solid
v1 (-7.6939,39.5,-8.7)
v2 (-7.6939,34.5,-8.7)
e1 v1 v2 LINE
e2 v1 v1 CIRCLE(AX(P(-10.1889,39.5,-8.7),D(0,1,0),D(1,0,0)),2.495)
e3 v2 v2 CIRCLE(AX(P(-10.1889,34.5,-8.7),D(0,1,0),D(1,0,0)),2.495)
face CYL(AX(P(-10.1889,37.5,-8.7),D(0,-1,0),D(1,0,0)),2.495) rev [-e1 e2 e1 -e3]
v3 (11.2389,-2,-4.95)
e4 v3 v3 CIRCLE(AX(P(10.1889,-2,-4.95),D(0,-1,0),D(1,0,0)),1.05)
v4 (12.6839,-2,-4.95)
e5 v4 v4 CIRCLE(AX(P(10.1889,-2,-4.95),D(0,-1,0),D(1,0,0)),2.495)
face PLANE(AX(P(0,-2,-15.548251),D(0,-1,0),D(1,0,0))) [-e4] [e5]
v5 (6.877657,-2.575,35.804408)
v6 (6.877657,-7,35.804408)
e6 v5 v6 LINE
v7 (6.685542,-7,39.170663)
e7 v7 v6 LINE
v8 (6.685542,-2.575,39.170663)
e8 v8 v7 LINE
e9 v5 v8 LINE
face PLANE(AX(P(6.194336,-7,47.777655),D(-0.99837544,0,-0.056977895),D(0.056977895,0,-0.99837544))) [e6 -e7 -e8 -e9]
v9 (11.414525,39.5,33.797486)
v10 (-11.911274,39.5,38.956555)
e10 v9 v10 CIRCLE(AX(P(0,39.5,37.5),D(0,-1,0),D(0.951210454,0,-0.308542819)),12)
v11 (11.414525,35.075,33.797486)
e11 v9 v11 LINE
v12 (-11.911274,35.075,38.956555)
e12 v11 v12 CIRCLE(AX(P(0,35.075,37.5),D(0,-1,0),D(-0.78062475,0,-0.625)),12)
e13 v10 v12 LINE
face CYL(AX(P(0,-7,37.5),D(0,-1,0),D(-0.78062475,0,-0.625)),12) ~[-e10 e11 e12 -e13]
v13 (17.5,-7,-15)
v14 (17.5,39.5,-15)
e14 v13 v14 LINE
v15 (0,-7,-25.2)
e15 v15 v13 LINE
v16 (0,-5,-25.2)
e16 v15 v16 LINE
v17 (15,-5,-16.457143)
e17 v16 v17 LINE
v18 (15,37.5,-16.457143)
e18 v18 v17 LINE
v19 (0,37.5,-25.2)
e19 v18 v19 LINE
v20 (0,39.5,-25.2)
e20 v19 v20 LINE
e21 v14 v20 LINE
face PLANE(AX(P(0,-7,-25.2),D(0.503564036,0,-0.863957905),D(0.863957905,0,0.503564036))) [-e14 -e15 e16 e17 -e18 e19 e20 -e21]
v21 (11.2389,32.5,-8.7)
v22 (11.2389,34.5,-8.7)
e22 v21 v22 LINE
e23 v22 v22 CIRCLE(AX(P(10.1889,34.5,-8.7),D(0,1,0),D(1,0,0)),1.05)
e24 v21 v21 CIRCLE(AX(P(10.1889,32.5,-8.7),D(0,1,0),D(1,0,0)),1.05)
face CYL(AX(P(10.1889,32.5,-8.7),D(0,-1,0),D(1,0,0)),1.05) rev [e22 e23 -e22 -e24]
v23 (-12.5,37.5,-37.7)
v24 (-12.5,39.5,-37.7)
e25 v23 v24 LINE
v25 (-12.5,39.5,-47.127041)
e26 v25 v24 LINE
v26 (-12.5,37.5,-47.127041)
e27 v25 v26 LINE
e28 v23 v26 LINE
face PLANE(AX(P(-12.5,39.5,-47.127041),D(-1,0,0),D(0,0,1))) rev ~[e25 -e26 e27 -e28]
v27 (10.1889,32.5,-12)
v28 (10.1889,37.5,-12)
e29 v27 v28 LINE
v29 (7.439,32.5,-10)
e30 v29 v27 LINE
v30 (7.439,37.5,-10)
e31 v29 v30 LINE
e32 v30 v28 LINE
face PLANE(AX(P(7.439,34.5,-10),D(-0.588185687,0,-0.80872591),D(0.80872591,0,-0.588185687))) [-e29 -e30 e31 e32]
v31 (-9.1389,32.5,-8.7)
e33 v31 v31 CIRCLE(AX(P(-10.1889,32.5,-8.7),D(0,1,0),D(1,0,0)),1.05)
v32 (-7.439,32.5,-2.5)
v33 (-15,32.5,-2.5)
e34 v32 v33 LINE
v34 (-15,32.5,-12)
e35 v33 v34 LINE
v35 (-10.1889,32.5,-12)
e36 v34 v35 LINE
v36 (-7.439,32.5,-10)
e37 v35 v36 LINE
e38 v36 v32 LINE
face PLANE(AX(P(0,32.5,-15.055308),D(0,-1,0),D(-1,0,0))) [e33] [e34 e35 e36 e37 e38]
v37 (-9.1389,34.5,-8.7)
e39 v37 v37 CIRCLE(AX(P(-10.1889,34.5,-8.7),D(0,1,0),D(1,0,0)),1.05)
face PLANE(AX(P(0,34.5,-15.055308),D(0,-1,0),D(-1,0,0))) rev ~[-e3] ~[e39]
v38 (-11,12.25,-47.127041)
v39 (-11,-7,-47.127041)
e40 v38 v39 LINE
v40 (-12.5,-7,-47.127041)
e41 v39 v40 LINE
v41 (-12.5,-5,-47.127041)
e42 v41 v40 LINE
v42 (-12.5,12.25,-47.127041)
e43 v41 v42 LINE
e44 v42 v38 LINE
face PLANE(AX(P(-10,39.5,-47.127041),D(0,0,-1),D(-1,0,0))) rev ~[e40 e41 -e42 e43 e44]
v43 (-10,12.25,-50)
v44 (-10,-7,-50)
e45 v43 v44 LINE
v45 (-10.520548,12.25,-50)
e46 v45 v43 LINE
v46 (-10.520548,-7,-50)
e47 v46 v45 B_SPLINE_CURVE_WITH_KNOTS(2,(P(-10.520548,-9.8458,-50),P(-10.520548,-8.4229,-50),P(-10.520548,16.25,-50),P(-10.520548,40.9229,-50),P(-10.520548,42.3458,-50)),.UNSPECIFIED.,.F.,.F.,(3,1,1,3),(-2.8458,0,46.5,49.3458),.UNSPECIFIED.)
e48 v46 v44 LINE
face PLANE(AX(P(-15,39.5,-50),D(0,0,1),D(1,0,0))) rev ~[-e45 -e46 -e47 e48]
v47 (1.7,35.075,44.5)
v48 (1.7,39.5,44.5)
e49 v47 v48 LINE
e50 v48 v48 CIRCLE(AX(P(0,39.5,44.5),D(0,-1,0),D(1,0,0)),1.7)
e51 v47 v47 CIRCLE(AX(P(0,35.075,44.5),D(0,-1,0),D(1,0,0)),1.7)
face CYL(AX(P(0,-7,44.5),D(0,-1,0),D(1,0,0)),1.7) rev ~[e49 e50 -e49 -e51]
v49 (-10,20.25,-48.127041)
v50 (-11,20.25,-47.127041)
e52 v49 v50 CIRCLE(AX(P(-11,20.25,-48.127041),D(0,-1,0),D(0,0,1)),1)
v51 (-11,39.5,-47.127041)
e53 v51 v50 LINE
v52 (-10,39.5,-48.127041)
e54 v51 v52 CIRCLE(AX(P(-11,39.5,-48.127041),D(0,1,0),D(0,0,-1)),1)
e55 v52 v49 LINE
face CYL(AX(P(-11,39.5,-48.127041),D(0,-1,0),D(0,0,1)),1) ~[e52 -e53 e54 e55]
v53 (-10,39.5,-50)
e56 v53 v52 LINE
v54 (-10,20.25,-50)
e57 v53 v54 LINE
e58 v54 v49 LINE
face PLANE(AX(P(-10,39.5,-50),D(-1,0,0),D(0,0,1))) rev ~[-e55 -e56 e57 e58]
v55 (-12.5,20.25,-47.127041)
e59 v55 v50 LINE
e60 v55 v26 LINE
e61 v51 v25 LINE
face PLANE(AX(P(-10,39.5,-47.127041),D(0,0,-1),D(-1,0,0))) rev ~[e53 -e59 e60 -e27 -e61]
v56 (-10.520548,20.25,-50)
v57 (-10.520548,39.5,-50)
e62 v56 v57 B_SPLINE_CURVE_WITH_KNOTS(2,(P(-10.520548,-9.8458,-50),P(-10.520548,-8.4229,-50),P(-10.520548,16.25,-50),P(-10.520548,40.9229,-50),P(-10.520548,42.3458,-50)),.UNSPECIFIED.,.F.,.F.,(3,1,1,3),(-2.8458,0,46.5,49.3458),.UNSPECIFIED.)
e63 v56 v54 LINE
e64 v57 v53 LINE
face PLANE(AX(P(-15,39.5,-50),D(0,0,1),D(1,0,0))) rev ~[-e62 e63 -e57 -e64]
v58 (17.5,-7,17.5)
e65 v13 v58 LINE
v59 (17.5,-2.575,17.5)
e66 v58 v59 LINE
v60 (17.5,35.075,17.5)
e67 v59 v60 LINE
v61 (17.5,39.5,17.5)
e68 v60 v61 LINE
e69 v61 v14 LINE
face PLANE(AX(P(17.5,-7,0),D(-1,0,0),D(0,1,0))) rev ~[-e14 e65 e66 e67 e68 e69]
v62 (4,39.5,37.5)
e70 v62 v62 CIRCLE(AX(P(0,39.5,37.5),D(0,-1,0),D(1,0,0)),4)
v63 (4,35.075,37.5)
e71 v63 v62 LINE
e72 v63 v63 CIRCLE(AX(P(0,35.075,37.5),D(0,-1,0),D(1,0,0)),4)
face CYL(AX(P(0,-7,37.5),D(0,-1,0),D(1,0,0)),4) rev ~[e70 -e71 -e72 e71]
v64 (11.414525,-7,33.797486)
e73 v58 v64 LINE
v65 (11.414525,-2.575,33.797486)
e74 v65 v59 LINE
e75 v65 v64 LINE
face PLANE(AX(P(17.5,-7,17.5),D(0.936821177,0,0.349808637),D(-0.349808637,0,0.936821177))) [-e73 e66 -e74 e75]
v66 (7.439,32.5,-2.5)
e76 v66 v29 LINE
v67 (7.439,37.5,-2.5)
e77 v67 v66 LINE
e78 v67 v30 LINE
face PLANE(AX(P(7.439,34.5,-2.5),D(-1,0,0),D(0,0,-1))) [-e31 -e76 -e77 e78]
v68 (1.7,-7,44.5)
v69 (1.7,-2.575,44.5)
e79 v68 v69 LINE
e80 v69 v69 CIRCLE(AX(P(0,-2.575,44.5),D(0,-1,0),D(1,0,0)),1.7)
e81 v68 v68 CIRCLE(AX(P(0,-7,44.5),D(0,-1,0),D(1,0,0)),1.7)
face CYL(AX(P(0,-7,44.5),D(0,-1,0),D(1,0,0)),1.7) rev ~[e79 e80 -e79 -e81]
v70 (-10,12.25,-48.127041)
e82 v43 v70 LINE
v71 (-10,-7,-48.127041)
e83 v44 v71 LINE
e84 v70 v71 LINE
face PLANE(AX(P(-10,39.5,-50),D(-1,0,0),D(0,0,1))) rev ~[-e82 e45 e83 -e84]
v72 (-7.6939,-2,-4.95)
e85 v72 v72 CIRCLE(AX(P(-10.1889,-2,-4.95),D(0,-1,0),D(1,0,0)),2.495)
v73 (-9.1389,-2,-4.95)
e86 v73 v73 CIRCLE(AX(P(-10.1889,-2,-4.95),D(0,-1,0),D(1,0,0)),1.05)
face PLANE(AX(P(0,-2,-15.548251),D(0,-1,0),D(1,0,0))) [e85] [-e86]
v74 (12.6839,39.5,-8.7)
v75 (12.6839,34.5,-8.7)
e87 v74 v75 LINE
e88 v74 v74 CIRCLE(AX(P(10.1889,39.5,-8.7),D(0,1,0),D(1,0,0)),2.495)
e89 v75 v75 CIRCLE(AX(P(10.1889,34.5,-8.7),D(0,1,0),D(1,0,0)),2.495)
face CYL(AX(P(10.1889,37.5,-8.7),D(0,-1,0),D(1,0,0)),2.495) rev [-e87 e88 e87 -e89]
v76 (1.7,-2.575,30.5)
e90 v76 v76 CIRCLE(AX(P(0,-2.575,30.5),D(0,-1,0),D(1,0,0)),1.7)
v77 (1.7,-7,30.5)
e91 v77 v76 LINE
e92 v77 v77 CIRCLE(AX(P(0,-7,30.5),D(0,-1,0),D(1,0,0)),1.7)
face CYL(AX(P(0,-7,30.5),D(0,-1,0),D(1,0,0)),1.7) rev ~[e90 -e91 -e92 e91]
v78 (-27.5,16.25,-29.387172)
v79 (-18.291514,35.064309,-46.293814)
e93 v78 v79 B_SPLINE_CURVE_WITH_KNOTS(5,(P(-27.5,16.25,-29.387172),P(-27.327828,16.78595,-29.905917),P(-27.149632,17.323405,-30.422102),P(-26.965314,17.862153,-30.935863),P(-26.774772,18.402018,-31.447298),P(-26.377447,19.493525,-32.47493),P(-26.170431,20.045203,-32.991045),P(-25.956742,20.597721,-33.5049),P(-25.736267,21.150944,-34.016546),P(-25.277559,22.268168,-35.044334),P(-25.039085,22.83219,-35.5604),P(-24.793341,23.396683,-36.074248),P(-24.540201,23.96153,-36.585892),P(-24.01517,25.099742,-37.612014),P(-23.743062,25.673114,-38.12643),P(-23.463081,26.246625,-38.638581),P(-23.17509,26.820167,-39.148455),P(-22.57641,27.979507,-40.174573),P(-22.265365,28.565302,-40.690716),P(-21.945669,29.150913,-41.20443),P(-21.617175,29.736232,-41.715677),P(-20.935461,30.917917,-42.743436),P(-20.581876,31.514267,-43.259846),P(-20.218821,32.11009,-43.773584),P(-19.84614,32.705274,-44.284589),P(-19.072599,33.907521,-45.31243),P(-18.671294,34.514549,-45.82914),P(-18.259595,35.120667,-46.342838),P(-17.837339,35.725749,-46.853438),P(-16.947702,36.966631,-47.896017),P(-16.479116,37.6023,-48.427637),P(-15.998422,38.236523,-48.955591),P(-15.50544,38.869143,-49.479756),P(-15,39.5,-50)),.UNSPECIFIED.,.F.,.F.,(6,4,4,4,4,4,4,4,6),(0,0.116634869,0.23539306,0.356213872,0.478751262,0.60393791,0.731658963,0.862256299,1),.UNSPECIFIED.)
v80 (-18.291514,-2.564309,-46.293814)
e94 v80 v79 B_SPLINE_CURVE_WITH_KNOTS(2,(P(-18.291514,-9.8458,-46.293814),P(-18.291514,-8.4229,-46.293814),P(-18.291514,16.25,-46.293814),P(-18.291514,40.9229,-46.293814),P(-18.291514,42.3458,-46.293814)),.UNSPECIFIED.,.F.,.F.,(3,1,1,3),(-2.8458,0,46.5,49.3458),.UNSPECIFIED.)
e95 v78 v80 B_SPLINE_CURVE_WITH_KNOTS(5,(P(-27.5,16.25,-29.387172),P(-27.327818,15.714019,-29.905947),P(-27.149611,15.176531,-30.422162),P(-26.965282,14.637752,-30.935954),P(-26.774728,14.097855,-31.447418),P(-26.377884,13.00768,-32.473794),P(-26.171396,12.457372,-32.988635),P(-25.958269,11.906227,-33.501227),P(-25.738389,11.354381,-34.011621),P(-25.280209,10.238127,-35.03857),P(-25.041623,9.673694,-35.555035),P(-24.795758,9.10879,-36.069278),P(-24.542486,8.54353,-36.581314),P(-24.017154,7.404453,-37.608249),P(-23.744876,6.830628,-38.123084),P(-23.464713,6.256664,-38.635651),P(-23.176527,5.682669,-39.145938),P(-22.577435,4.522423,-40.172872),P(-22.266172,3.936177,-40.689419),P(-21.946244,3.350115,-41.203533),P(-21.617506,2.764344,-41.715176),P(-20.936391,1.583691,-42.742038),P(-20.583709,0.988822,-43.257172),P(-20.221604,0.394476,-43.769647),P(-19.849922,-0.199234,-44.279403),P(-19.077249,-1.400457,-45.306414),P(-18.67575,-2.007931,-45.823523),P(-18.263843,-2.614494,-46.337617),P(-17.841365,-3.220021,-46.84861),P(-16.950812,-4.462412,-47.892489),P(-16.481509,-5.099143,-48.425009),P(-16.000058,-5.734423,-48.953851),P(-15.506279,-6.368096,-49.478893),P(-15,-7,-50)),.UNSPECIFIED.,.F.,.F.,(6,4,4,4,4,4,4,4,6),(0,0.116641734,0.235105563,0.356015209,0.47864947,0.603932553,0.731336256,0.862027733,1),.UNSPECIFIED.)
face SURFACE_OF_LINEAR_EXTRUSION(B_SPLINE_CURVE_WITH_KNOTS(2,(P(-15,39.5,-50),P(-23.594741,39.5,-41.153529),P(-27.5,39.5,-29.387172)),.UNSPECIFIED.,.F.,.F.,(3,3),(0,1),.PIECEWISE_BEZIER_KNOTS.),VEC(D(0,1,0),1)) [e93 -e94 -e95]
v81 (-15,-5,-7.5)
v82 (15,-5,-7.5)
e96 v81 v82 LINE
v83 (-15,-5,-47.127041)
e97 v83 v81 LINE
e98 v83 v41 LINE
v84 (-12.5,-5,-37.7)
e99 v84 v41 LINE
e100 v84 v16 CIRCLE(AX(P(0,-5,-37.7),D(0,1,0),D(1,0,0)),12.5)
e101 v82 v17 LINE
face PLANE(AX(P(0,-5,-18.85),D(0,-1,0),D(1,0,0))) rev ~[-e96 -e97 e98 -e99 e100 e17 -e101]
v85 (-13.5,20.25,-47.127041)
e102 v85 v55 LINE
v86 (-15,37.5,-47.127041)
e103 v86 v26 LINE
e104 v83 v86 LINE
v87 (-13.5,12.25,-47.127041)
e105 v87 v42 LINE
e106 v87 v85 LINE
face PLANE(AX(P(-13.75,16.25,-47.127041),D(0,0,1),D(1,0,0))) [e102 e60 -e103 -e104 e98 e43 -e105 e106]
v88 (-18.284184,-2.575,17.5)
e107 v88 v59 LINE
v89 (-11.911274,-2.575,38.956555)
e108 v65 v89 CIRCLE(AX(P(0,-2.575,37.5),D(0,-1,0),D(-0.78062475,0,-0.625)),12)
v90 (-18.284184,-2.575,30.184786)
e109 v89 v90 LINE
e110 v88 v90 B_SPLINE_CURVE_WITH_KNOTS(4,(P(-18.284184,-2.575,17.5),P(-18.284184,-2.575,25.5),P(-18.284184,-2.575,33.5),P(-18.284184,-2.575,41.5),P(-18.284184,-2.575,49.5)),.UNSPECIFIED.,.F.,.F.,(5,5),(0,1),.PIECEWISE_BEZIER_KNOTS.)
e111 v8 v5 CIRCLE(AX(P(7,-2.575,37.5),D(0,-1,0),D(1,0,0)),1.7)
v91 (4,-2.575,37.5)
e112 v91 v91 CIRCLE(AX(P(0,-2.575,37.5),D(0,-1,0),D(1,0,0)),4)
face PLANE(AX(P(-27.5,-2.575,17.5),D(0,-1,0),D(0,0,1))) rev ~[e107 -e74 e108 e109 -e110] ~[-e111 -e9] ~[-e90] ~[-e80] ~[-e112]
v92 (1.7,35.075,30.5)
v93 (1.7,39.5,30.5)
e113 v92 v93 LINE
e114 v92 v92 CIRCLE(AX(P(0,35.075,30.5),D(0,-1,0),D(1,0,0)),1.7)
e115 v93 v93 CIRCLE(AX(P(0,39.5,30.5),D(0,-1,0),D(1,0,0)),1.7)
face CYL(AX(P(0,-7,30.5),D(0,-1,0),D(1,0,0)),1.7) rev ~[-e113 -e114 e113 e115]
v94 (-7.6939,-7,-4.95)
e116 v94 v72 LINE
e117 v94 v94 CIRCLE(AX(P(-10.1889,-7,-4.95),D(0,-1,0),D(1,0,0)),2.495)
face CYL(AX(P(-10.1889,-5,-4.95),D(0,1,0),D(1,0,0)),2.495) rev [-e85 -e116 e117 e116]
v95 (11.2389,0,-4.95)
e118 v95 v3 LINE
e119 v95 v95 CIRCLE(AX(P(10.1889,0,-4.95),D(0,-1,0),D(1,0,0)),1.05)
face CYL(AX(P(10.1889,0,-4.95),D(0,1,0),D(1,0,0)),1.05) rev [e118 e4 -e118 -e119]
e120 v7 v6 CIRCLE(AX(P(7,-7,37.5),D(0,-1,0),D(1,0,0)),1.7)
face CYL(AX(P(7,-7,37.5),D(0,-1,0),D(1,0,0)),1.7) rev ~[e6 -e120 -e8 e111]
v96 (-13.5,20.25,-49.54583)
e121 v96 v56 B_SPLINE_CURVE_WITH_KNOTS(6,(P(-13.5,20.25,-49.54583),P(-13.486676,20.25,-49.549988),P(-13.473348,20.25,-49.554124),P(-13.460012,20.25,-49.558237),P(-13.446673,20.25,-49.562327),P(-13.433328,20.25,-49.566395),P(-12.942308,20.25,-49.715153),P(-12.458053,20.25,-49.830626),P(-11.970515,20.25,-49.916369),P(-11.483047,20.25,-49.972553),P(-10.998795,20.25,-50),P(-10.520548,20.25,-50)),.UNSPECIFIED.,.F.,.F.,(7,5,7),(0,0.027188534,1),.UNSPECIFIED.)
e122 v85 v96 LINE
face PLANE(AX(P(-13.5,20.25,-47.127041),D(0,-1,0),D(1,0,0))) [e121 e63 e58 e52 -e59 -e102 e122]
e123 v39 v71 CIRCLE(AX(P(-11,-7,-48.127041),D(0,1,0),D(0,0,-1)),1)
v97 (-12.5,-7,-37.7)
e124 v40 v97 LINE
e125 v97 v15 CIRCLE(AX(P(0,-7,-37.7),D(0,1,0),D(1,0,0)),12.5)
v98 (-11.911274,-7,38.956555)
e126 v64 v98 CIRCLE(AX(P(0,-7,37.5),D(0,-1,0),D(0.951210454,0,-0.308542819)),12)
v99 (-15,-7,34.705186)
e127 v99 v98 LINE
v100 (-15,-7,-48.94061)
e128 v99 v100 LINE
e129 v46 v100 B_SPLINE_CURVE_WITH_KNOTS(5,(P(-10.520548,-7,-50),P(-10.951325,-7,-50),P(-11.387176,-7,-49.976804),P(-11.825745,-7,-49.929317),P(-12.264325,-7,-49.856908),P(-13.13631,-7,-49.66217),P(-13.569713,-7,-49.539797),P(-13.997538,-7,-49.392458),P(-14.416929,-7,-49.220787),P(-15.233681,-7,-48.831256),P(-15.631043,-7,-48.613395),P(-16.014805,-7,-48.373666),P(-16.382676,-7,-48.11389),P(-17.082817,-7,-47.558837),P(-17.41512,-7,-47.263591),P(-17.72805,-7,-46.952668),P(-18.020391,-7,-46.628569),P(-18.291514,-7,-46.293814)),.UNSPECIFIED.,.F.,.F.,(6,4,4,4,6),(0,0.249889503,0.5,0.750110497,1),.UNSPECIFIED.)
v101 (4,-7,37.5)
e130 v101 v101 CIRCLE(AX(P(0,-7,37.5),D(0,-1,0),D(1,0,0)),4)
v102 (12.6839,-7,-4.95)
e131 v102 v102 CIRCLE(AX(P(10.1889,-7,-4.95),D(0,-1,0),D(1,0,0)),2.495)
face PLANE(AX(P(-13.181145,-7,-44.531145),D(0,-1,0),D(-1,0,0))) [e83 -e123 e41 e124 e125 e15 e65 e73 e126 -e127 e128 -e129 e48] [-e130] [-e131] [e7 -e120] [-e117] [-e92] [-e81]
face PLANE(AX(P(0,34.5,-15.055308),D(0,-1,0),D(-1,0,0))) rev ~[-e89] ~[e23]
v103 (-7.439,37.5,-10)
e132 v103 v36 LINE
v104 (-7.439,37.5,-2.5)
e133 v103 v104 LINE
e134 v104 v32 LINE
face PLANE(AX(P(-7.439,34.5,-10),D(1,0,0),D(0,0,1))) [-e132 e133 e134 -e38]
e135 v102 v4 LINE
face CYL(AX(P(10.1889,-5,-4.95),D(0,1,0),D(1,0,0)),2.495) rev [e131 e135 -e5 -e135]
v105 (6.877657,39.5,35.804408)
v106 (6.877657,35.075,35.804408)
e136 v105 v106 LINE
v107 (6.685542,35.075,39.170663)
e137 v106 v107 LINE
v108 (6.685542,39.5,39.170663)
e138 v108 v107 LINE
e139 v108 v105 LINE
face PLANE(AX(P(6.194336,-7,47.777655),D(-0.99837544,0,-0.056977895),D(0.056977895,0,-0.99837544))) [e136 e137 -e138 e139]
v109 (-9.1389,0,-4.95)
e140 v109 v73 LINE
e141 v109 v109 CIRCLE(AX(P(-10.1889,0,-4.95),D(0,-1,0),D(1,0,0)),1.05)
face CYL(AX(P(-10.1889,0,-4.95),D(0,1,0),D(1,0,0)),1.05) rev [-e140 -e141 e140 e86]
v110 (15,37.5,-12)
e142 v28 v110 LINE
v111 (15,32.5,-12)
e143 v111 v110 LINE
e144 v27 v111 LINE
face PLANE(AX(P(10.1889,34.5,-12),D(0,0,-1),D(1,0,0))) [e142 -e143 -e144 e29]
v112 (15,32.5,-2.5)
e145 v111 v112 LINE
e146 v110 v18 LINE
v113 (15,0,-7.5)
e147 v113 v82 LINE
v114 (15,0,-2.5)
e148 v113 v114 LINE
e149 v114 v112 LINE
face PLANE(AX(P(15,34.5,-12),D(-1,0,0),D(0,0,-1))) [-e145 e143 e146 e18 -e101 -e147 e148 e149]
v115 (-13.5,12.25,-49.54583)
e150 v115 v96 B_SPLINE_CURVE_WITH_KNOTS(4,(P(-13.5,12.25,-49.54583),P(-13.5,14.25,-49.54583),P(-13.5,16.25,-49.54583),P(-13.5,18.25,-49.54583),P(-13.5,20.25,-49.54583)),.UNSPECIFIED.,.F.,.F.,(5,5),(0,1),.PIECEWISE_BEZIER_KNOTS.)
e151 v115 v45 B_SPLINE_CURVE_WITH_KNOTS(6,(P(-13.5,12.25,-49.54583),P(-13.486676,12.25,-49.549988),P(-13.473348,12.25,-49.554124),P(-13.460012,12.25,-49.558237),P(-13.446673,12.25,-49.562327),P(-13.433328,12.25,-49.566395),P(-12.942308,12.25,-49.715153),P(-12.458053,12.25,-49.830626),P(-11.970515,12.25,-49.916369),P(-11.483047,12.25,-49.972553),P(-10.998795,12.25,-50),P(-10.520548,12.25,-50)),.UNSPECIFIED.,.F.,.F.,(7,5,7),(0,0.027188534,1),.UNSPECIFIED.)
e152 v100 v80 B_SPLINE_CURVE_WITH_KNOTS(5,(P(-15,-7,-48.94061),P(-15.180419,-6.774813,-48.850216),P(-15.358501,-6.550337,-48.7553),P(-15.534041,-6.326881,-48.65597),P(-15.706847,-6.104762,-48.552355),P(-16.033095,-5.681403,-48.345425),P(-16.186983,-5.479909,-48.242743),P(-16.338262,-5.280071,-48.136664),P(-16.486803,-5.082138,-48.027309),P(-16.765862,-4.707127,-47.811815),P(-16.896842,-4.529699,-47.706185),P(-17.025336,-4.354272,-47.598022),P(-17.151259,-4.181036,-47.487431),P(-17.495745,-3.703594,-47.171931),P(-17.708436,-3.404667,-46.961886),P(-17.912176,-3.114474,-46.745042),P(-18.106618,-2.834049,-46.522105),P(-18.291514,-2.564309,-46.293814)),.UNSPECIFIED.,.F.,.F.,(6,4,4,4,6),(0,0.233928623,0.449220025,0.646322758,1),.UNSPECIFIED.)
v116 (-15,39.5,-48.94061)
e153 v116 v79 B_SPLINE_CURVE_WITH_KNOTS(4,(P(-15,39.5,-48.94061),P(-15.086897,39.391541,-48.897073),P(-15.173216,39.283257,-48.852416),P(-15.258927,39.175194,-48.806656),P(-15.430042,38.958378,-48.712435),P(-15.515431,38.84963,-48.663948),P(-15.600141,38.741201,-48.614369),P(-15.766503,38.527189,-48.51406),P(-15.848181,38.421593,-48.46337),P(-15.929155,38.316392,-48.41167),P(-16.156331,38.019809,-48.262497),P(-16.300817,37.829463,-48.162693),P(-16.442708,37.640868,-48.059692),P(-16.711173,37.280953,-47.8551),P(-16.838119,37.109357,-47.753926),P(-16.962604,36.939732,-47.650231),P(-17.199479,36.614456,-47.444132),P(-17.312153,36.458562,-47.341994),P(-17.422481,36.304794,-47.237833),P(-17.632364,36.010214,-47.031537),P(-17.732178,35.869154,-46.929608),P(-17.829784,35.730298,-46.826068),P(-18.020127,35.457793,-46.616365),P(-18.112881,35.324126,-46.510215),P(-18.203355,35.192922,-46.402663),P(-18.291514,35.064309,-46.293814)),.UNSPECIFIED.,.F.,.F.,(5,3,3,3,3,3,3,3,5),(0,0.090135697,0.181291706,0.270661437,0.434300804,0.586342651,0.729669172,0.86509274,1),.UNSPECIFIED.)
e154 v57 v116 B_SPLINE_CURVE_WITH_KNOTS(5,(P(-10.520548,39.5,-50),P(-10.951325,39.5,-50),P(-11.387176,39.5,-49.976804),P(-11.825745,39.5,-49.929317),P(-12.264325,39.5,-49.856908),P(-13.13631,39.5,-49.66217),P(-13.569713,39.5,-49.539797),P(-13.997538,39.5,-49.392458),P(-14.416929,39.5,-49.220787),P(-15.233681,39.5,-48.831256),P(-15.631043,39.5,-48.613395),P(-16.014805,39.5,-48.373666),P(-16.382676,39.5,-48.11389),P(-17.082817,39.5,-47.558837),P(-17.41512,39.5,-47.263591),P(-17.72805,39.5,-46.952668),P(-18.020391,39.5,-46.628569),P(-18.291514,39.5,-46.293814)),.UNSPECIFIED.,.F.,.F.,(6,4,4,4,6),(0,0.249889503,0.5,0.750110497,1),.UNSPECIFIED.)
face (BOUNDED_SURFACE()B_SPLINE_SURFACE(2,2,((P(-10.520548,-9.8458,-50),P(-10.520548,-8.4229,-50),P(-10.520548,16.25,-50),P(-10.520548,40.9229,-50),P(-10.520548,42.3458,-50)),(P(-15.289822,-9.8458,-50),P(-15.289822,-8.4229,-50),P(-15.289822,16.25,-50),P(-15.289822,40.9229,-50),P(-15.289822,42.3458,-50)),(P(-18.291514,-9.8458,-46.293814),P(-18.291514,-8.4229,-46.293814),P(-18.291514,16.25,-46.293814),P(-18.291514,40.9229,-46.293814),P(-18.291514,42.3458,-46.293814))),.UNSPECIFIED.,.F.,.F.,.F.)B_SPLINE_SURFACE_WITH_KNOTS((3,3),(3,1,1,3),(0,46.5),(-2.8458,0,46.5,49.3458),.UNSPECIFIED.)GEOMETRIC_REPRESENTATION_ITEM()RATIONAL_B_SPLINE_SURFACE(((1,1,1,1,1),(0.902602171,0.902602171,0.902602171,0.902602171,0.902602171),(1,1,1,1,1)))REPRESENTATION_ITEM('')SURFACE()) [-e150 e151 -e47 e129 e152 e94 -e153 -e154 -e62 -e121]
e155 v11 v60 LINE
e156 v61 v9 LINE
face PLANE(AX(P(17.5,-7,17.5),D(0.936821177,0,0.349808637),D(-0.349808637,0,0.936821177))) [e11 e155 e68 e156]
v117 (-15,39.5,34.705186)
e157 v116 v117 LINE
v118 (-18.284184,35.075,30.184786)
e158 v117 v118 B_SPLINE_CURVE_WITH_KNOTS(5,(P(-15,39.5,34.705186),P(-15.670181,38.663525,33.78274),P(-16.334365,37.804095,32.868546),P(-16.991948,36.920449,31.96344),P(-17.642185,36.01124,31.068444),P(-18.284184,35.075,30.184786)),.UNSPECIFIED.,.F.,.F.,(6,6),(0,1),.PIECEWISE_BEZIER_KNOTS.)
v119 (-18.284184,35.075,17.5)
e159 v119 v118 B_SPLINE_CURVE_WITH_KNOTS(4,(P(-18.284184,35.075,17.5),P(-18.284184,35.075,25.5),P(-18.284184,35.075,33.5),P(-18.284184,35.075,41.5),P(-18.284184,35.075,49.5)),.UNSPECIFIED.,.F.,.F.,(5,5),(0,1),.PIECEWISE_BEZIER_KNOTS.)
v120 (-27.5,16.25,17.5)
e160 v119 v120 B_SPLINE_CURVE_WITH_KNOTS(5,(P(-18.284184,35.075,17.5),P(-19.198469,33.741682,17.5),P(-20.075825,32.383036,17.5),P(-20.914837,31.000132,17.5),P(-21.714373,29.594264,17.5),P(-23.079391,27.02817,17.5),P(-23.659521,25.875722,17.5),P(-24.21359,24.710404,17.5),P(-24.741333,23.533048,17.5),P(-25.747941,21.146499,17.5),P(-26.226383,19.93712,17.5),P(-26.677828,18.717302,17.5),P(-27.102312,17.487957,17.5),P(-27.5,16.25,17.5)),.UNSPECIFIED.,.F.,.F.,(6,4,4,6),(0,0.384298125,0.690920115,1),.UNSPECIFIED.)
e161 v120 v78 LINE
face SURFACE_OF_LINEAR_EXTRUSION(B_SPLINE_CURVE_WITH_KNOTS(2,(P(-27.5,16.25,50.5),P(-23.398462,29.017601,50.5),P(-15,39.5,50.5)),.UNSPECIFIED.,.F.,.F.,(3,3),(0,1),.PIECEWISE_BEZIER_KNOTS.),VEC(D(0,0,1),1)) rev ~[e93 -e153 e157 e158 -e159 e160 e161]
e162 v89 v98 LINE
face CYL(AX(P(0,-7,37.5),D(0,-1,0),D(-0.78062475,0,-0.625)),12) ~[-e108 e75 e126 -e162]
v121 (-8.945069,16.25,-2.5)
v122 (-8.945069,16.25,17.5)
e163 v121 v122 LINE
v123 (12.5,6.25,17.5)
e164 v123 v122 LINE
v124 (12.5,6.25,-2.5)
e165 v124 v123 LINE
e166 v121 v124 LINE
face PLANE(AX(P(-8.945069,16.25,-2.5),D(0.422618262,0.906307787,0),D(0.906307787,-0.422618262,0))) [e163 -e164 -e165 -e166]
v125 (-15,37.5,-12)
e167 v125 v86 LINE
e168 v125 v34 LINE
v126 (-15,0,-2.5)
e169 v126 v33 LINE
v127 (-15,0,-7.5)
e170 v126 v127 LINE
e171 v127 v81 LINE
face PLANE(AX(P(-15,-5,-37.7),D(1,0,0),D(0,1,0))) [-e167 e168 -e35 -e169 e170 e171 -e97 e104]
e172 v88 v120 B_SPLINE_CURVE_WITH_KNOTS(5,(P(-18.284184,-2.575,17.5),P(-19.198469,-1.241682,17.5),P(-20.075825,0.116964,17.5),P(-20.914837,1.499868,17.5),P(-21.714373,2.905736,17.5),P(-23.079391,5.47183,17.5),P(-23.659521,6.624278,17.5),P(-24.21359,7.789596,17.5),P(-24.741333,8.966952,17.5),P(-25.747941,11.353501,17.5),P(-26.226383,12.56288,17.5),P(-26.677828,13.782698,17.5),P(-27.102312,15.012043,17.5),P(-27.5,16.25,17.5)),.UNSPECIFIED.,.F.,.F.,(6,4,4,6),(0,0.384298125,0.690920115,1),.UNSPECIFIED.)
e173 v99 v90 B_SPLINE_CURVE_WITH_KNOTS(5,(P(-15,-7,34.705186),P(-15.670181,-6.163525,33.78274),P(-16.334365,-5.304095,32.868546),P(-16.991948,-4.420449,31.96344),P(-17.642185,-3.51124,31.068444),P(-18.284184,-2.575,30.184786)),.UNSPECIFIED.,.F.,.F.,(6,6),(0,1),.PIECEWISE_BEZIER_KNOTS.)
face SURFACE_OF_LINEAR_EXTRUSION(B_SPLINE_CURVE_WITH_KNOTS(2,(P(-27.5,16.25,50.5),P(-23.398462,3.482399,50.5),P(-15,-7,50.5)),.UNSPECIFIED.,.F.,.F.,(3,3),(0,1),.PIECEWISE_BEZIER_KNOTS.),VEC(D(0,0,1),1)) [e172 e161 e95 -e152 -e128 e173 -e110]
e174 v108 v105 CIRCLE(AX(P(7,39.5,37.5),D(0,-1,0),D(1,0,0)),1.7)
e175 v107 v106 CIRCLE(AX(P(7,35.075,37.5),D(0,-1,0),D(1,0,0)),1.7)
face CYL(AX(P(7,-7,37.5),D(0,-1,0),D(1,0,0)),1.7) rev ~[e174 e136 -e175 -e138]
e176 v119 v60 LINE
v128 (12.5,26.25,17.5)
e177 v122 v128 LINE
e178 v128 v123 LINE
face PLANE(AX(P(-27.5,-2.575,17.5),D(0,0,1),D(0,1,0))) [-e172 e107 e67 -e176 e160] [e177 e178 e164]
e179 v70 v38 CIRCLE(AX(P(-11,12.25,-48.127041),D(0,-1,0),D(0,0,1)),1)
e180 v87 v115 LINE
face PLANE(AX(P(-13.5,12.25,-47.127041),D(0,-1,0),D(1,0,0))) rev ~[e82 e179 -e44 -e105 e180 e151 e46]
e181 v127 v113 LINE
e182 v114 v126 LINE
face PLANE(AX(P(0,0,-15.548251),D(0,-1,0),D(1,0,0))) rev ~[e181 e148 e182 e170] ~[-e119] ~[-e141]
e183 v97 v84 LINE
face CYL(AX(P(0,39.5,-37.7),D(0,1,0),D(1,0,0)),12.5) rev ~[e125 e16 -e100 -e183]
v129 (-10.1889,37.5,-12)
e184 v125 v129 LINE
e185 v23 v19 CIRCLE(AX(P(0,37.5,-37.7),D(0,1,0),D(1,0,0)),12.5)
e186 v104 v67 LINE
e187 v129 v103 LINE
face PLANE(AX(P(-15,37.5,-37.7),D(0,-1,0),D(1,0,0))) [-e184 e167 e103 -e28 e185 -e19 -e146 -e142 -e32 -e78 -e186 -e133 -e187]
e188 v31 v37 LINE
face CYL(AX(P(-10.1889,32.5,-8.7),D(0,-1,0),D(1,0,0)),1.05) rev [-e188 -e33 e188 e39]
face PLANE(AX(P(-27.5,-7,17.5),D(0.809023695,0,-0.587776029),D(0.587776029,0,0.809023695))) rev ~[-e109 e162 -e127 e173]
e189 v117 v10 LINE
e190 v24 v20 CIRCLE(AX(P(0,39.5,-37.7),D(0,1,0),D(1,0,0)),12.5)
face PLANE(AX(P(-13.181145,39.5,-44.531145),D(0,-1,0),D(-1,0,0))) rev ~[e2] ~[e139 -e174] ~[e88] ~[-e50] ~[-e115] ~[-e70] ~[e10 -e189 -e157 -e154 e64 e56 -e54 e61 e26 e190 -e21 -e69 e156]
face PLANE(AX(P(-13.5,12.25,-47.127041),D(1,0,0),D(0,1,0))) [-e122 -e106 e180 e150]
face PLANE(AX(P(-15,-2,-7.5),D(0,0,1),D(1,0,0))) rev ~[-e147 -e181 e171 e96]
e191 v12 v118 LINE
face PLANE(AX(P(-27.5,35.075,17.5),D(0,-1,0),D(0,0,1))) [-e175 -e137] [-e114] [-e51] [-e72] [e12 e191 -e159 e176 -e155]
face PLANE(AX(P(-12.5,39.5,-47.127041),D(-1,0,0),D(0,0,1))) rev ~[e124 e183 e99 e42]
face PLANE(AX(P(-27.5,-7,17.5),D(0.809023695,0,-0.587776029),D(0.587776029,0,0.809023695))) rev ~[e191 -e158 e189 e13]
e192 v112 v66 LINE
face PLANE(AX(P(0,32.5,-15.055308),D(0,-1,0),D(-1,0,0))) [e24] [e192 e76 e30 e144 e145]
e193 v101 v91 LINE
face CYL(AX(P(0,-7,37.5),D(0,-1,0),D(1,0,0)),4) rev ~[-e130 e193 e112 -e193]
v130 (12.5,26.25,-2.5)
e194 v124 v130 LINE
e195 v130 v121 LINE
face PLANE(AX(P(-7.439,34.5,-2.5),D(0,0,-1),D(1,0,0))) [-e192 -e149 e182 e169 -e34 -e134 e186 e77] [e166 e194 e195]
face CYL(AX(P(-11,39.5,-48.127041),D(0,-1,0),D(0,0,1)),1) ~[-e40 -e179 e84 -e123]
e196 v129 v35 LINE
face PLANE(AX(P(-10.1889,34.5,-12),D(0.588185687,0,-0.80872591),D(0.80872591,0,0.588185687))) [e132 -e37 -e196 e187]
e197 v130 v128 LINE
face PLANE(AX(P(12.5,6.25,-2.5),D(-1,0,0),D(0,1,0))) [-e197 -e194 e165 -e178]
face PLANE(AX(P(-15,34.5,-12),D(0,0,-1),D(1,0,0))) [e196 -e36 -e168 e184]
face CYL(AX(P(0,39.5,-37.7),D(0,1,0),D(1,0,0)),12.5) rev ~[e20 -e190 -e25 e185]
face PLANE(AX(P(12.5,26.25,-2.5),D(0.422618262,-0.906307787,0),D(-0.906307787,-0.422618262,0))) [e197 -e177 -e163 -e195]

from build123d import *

# Parameters (mm, degrees)
BOSS_EXTRUDE1_DEPTH  = 32.5
SKETCH4_R            = 1.05
BOSS_EXTRUDE2_DEPTH  = 2
SKETCH7_R            = 2.495
WIRE_SPACING2_DEPTH  = 3
SKETCH8_W            = 35
SKETCH8_H            = 37.7
SKETCH8_R            = 2.495
BOSS_EXTRUDE6_DEPTH  = 2
SKETCH5_R            = 1.05
BOSS_EXTRUDE3_DEPTH  = 2
SKETCH9_R            = 2.495
WIRE_SPACING1_DEPTH  = 3
SKETCH10_W           = 35
SKETCH10_H           = 37.7
SKETCH10_R           = 2.495
BOSS_EXTRUDE8_DEPTH  = 2
SKETCH11_R           = 12.5
CUT_EXTRUDE1_DEPTH   = 47.5
CUT_EXTRUDE2_DEPTH   = 47.5
SKETCH13_W           = 45
SKETCH13_H           = 46.5
BOSS_EXTRUDE9_DEPTH  = 17.5
SKETCH15_W           = 12.5
SKETCH15_H           = 46.5
BOSS_EXTRUDE10_DEPTH = 50
SKETCH18_R           = 4
SKETCH18_R_2         = 1.7
BOSS_EXTRUDE11_DEPTH = 46.5
BOSS_EXTRUDE13_DEPTH = 46.5
SKETCH21_W           = 89.912502986
SKETCH21_H           = 37.65
CUT_EXTRUDE3_DEPTH   = 46
CUT_EXTRUDE5_DEPTH   = 47.5
CUT_EXTRUDE4_START   = -50.5000001
CUT_EXTRUDE4_DEPTH   = 101.5000002
CUT_EXTRUDE6_DEPTH   = 53.0000001
BOSS_EXTRUDE14_DEPTH = 46.5
FILLET2_R            = 10
SKETCH29_W           = 2.5
SKETCH29_H           = 42.5
CUT_EXTRUDE8_DEPTH   = 9.427041
FILLET3_R            = 1
SKETCH30_W           = 7.311581117
SKETCH30_H           = 8
CUT_EXTRUDE9_DEPTH   = 22.5


with BuildPart() as part:
    # Sketch2 → Boss-Extrude1 (new body)
    with BuildSketch(Plane(origin=(0, 0, 0), x_dir=(1, 0, 0), z_dir=(0, 1, 0))):
        Polygon((17.5, 0), (17.5, 37.7), (15, 37.7), (15, 2.5), (-15, 2.5), (-15, 37.7), (-17.5, 37.7), (-17.5, 0), align=None)
    extrude(amount=BOSS_EXTRUDE1_DEPTH)

    # Sketch4 → Boss-Extrude2 (add)
    with BuildSketch(Plane.XZ):
        Polygon((-17.5, 0), (-17.5, -7.443777264), (-17.5, -37.7), (-15, -37.7), (-15, -7.5), (15, -7.5), (15, -37.7), (17.5, -37.7), (17.5, -7.443777264), (17.5, 0), align=None)
        with Locations((-10.1889, -4.95)):
            Circle(SKETCH4_R, mode=Mode.SUBTRACT)
        with Locations((10.1889, -4.95)):
            Circle(SKETCH4_R, mode=Mode.SUBTRACT)
    extrude(amount=BOSS_EXTRUDE2_DEPTH)

    # Sketch7 → Wire spacing2 (add)
    with BuildSketch(Plane.XZ.offset(2)):
        Polygon((-17.5, 0), (-17.5, -37.7), (-15, -37.7), (-15, -7.5), (15, -7.5), (15, -37.7), (17.5, -37.7), (17.5, 0), align=None)
        with Locations((-10.1889, -4.95)):
            Circle(SKETCH7_R, mode=Mode.SUBTRACT)
        with Locations((10.1889, -4.95)):
            Circle(SKETCH7_R, mode=Mode.SUBTRACT)
    extrude(amount=WIRE_SPACING2_DEPTH)

    # Sketch8 → Boss-Extrude6 (add)
    with BuildSketch(Plane.XZ.offset(5)):
        with Locations((0, -18.85)):
            Rectangle(SKETCH8_W, SKETCH8_H)
        with Locations((-10.1889, -4.95)):
            Circle(SKETCH8_R, mode=Mode.SUBTRACT)
        with Locations((10.1889, -4.95)):
            Circle(SKETCH8_R, mode=Mode.SUBTRACT)
    extrude(amount=BOSS_EXTRUDE6_DEPTH)

    # Sketch5 → Boss-Extrude3 (add)
    with BuildSketch(Plane(origin=(0, 32.5, 0), x_dir=(1, 0, 0), z_dir=(0, 1, 0))):
        Polygon((-7.439, 10), (-7.439, 2.5), (7.439, 2.5), (7.439, 10), (10.1889, 12), (15, 12), (15, 37.7), (17.5, 37.7), (17.5, 0), (-17.5, 0), (-17.5, 37.7), (-15, 37.7), (-15, 12), (-10.1889, 12), align=None)
        with Locations((-10.1889, 8.7)):
            Circle(SKETCH5_R, mode=Mode.SUBTRACT)
        with Locations((10.1889, 8.7)):
            Circle(SKETCH5_R, mode=Mode.SUBTRACT)
    extrude(amount=BOSS_EXTRUDE3_DEPTH)

    # Sketch9 → Wire spacing1 (add)
    with BuildSketch(Plane(origin=(0, 34.5, 0), x_dir=(1, 0, 0), z_dir=(0, 1, 0))):
        Polygon((-17.5, 0), (-17.5, 37.7), (-15, 37.7), (-15, 12), (-10.1889, 12), (-7.439, 10), (-7.439, 2.5), (7.439, 2.5), (7.439, 10), (10.1889, 12), (15, 12), (15, 37.7), (17.5, 37.7), (17.5, 0), align=None)
        with Locations((-10.1889, 8.7)):
            Circle(SKETCH9_R, mode=Mode.SUBTRACT)
        with Locations((10.1889, 8.7)):
            Circle(SKETCH9_R, mode=Mode.SUBTRACT)
    extrude(amount=WIRE_SPACING1_DEPTH)

    # Sketch10 → Boss-Extrude8 (add)
    with BuildSketch(Plane(origin=(0, 37.5, 0), x_dir=(1, 0, 0), z_dir=(0, 1, 0))):
        with Locations((0, 18.85)):
            Rectangle(SKETCH10_W, SKETCH10_H)
        with Locations((-10.1889, 8.7)):
            Circle(SKETCH10_R, mode=Mode.SUBTRACT)
        with Locations((10.1889, 8.7)):
            Circle(SKETCH10_R, mode=Mode.SUBTRACT)
    extrude(amount=BOSS_EXTRUDE8_DEPTH)

    # Sketch11 → Cut-Extrude1 (cut, through all)
    with BuildSketch(Plane(origin=(0, 39.5, 0), x_dir=(1, 0, 0), z_dir=(0, 1, 0))):
        with Locations((0, 37.7)):
            Circle(SKETCH11_R)
    extrude(amount=-CUT_EXTRUDE1_DEPTH, mode=Mode.SUBTRACT)

    # Sketch12 → Cut-Extrude2 (cut, through all)
    with BuildSketch(Plane.XZ.offset(7)):
        Polygon((0, -25.2), (17.5, -15), (17.5, -47.484525272), align=None)
    extrude(amount=-CUT_EXTRUDE2_DEPTH, mode=Mode.SUBTRACT)

    # Sketch13 → Boss-Extrude9 (add)
    with BuildSketch(Plane.XY):
        with Locations((-5, 16.25)):
            Rectangle(SKETCH13_W, SKETCH13_H)
    extrude(amount=BOSS_EXTRUDE9_DEPTH)

    # Sketch15 → Boss-Extrude10 (add)
    with BuildSketch(Plane(origin=(0, 0, 0), x_dir=(-1, 0, 0), z_dir=(0, 0, -1))):
        with Locations((21.25, 16.25)):
            Rectangle(SKETCH15_W, SKETCH15_H)
    extrude(amount=BOSS_EXTRUDE10_DEPTH)

    # Sketch18 → Boss-Extrude11 (add)
    with BuildSketch(Plane.XZ.offset(7)):
        with BuildLine():
            Line((12.5, 22.5), (12.5, 17.5))
            Line((12.5, 17.5), (-12.5, 17.5))
            Line((-12.5, 17.5), (-12.5, 22.5))
            Line((-12.5, 22.5), (-9.367496998, 30))
            ThreePointArc((-9.367496998, 30), (0, 49.5), (9.367496998, 30))
            Line((9.367496998, 30), (12.5, 22.5))
        make_face()
        with Locations((0, 37.5)):
            Circle(SKETCH18_R, mode=Mode.SUBTRACT)
        with Locations((0, 30.5)):
            Circle(SKETCH18_R_2, mode=Mode.SUBTRACT)
        with Locations((-7, 37.5)):
            Circle(SKETCH18_R_2, mode=Mode.SUBTRACT)
        with Locations((0, 44.5)):
            Circle(SKETCH18_R_2, mode=Mode.SUBTRACT)
        with Locations((7, 37.5)):
            Circle(SKETCH18_R_2, mode=Mode.SUBTRACT)
    extrude(amount=-BOSS_EXTRUDE11_DEPTH)

    # Sketch22 → Boss-Extrude13 (add)
    with BuildSketch(Plane.XZ.offset(7)):
        Polygon((-27.5, 17.5), (-5.066300312, 48.378078928), (-5.066300312, 17.5), align=None)
        Polygon((17.5, 17.5), (6.194336088, 47.777655396), (7.922300343, 17.5), align=None)
    extrude(amount=-BOSS_EXTRUDE13_DEPTH)

    # Sketch21 → Cut-Extrude3 (cut, through all)
    with BuildSketch(Plane.ZY.offset(27.5)):
        with Locations((62.456251493, 16.25)):
            Rectangle(SKETCH21_W, SKETCH21_H)
    extrude(amount=-CUT_EXTRUDE3_DEPTH, mode=Mode.SUBTRACT)

    # Sketch26 → Cut-Extrude5 (cut, through all)
    with BuildSketch(Plane(origin=(0, 39.5, 0), x_dir=(1, 0, 0), z_dir=(0, 1, 0))):
        with BuildLine():
            Line((-27.5, 29.387171818), (-27.5, 50))
            Line((-27.5, 50), (-15, 50))
            add(Edge.make_bspline(
                [(-15, 50), (-23.594741162, 41.153529081), (-27.5, 29.387171818)],
                knots=[0, 0, 0, 1, 1, 1], degree=2))
        make_face()
    extrude(amount=-CUT_EXTRUDE5_DEPTH, mode=Mode.SUBTRACT)

    # Sketch24 → Cut-Extrude4 (cut)
    with BuildSketch(Plane(origin=(0, 0, 0), x_dir=(-1, 0, 0), z_dir=(0, 0, -1)).offset(CUT_EXTRUDE4_START)):
        with BuildLine():
            Line((15, -7), (27.5, -7))
            Line((27.5, -7), (27.5, 16.25))
            add(Edge.make_bspline(
                [(27.5, 16.25), (23.398461901, 3.482399142), (15, -7)],
                knots=[0, 0, 0, 1, 1, 1], degree=2))
        make_face()
    cut_extrude4 = extrude(amount=CUT_EXTRUDE4_DEPTH, mode=Mode.SUBTRACT)

    # Mirror1: Cut-Extrude4 across plane
    add(cut_extrude4.mirror(Plane(origin=(0, 16.25, 0), x_dir=(0, 0, 1), z_dir=(0, -1, 0))), mode=Mode.SUBTRACT)

    # Sketch27 → Cut-Extrude6 (cut, through all)
    with BuildSketch(Plane(origin=(0, 0, -2.5), x_dir=(-1, 0, 0), z_dir=(0, 0, -1))):
        Polygon((-12.5, 26.25), (8.945069205, 16.25), (-12.5, 6.25), align=None)
    extrude(amount=-CUT_EXTRUDE6_DEPTH, mode=Mode.SUBTRACT)

    # Sketch28 → Boss-Extrude14 (add)
    with BuildSketch(Plane(origin=(0, 39.5, 0), x_dir=(1, 0, 0), z_dir=(0, 1, 0))):
        Polygon((-15, 37.7), (-15, 50), (-10, 50), (-10, 47.127040762), (-12.5, 47.127040762), (-12.5, 37.7), align=None)
    extrude(amount=-BOSS_EXTRUDE14_DEPTH)

    # Fillet2
    fillet2_edges = [part.edges().sort_by_distance(p)[0] for p in [
        (-15, 16.25, -50),
    ]]
    fillet(fillet2_edges, radius=FILLET2_R)

    # Sketch29 → Cut-Extrude8 (cut)
    with BuildSketch(Plane.XY.offset(-37.7)):
        with Locations((-13.75, 16.25)):
            Rectangle(SKETCH29_W, SKETCH29_H)
    extrude(amount=-CUT_EXTRUDE8_DEPTH, mode=Mode.SUBTRACT)

    # Fillet3
    fillet3_edges = [part.edges().sort_by_distance(p)[0] for p in [
        (-10, 16.25, -47.127040762),
    ]]
    fillet(fillet3_edges, radius=FILLET3_R)

    # Sketch30 → Cut-Extrude9 (cut)
    with BuildSketch(Plane.XY.offset(-47.127040762)):
        with Locations((-9.844209442, 16.25)):
            Rectangle(SKETCH30_W, SKETCH30_H)
    extrude(amount=-CUT_EXTRUDE9_DEPTH, mode=Mode.SUBTRACT)


solid = part.part
